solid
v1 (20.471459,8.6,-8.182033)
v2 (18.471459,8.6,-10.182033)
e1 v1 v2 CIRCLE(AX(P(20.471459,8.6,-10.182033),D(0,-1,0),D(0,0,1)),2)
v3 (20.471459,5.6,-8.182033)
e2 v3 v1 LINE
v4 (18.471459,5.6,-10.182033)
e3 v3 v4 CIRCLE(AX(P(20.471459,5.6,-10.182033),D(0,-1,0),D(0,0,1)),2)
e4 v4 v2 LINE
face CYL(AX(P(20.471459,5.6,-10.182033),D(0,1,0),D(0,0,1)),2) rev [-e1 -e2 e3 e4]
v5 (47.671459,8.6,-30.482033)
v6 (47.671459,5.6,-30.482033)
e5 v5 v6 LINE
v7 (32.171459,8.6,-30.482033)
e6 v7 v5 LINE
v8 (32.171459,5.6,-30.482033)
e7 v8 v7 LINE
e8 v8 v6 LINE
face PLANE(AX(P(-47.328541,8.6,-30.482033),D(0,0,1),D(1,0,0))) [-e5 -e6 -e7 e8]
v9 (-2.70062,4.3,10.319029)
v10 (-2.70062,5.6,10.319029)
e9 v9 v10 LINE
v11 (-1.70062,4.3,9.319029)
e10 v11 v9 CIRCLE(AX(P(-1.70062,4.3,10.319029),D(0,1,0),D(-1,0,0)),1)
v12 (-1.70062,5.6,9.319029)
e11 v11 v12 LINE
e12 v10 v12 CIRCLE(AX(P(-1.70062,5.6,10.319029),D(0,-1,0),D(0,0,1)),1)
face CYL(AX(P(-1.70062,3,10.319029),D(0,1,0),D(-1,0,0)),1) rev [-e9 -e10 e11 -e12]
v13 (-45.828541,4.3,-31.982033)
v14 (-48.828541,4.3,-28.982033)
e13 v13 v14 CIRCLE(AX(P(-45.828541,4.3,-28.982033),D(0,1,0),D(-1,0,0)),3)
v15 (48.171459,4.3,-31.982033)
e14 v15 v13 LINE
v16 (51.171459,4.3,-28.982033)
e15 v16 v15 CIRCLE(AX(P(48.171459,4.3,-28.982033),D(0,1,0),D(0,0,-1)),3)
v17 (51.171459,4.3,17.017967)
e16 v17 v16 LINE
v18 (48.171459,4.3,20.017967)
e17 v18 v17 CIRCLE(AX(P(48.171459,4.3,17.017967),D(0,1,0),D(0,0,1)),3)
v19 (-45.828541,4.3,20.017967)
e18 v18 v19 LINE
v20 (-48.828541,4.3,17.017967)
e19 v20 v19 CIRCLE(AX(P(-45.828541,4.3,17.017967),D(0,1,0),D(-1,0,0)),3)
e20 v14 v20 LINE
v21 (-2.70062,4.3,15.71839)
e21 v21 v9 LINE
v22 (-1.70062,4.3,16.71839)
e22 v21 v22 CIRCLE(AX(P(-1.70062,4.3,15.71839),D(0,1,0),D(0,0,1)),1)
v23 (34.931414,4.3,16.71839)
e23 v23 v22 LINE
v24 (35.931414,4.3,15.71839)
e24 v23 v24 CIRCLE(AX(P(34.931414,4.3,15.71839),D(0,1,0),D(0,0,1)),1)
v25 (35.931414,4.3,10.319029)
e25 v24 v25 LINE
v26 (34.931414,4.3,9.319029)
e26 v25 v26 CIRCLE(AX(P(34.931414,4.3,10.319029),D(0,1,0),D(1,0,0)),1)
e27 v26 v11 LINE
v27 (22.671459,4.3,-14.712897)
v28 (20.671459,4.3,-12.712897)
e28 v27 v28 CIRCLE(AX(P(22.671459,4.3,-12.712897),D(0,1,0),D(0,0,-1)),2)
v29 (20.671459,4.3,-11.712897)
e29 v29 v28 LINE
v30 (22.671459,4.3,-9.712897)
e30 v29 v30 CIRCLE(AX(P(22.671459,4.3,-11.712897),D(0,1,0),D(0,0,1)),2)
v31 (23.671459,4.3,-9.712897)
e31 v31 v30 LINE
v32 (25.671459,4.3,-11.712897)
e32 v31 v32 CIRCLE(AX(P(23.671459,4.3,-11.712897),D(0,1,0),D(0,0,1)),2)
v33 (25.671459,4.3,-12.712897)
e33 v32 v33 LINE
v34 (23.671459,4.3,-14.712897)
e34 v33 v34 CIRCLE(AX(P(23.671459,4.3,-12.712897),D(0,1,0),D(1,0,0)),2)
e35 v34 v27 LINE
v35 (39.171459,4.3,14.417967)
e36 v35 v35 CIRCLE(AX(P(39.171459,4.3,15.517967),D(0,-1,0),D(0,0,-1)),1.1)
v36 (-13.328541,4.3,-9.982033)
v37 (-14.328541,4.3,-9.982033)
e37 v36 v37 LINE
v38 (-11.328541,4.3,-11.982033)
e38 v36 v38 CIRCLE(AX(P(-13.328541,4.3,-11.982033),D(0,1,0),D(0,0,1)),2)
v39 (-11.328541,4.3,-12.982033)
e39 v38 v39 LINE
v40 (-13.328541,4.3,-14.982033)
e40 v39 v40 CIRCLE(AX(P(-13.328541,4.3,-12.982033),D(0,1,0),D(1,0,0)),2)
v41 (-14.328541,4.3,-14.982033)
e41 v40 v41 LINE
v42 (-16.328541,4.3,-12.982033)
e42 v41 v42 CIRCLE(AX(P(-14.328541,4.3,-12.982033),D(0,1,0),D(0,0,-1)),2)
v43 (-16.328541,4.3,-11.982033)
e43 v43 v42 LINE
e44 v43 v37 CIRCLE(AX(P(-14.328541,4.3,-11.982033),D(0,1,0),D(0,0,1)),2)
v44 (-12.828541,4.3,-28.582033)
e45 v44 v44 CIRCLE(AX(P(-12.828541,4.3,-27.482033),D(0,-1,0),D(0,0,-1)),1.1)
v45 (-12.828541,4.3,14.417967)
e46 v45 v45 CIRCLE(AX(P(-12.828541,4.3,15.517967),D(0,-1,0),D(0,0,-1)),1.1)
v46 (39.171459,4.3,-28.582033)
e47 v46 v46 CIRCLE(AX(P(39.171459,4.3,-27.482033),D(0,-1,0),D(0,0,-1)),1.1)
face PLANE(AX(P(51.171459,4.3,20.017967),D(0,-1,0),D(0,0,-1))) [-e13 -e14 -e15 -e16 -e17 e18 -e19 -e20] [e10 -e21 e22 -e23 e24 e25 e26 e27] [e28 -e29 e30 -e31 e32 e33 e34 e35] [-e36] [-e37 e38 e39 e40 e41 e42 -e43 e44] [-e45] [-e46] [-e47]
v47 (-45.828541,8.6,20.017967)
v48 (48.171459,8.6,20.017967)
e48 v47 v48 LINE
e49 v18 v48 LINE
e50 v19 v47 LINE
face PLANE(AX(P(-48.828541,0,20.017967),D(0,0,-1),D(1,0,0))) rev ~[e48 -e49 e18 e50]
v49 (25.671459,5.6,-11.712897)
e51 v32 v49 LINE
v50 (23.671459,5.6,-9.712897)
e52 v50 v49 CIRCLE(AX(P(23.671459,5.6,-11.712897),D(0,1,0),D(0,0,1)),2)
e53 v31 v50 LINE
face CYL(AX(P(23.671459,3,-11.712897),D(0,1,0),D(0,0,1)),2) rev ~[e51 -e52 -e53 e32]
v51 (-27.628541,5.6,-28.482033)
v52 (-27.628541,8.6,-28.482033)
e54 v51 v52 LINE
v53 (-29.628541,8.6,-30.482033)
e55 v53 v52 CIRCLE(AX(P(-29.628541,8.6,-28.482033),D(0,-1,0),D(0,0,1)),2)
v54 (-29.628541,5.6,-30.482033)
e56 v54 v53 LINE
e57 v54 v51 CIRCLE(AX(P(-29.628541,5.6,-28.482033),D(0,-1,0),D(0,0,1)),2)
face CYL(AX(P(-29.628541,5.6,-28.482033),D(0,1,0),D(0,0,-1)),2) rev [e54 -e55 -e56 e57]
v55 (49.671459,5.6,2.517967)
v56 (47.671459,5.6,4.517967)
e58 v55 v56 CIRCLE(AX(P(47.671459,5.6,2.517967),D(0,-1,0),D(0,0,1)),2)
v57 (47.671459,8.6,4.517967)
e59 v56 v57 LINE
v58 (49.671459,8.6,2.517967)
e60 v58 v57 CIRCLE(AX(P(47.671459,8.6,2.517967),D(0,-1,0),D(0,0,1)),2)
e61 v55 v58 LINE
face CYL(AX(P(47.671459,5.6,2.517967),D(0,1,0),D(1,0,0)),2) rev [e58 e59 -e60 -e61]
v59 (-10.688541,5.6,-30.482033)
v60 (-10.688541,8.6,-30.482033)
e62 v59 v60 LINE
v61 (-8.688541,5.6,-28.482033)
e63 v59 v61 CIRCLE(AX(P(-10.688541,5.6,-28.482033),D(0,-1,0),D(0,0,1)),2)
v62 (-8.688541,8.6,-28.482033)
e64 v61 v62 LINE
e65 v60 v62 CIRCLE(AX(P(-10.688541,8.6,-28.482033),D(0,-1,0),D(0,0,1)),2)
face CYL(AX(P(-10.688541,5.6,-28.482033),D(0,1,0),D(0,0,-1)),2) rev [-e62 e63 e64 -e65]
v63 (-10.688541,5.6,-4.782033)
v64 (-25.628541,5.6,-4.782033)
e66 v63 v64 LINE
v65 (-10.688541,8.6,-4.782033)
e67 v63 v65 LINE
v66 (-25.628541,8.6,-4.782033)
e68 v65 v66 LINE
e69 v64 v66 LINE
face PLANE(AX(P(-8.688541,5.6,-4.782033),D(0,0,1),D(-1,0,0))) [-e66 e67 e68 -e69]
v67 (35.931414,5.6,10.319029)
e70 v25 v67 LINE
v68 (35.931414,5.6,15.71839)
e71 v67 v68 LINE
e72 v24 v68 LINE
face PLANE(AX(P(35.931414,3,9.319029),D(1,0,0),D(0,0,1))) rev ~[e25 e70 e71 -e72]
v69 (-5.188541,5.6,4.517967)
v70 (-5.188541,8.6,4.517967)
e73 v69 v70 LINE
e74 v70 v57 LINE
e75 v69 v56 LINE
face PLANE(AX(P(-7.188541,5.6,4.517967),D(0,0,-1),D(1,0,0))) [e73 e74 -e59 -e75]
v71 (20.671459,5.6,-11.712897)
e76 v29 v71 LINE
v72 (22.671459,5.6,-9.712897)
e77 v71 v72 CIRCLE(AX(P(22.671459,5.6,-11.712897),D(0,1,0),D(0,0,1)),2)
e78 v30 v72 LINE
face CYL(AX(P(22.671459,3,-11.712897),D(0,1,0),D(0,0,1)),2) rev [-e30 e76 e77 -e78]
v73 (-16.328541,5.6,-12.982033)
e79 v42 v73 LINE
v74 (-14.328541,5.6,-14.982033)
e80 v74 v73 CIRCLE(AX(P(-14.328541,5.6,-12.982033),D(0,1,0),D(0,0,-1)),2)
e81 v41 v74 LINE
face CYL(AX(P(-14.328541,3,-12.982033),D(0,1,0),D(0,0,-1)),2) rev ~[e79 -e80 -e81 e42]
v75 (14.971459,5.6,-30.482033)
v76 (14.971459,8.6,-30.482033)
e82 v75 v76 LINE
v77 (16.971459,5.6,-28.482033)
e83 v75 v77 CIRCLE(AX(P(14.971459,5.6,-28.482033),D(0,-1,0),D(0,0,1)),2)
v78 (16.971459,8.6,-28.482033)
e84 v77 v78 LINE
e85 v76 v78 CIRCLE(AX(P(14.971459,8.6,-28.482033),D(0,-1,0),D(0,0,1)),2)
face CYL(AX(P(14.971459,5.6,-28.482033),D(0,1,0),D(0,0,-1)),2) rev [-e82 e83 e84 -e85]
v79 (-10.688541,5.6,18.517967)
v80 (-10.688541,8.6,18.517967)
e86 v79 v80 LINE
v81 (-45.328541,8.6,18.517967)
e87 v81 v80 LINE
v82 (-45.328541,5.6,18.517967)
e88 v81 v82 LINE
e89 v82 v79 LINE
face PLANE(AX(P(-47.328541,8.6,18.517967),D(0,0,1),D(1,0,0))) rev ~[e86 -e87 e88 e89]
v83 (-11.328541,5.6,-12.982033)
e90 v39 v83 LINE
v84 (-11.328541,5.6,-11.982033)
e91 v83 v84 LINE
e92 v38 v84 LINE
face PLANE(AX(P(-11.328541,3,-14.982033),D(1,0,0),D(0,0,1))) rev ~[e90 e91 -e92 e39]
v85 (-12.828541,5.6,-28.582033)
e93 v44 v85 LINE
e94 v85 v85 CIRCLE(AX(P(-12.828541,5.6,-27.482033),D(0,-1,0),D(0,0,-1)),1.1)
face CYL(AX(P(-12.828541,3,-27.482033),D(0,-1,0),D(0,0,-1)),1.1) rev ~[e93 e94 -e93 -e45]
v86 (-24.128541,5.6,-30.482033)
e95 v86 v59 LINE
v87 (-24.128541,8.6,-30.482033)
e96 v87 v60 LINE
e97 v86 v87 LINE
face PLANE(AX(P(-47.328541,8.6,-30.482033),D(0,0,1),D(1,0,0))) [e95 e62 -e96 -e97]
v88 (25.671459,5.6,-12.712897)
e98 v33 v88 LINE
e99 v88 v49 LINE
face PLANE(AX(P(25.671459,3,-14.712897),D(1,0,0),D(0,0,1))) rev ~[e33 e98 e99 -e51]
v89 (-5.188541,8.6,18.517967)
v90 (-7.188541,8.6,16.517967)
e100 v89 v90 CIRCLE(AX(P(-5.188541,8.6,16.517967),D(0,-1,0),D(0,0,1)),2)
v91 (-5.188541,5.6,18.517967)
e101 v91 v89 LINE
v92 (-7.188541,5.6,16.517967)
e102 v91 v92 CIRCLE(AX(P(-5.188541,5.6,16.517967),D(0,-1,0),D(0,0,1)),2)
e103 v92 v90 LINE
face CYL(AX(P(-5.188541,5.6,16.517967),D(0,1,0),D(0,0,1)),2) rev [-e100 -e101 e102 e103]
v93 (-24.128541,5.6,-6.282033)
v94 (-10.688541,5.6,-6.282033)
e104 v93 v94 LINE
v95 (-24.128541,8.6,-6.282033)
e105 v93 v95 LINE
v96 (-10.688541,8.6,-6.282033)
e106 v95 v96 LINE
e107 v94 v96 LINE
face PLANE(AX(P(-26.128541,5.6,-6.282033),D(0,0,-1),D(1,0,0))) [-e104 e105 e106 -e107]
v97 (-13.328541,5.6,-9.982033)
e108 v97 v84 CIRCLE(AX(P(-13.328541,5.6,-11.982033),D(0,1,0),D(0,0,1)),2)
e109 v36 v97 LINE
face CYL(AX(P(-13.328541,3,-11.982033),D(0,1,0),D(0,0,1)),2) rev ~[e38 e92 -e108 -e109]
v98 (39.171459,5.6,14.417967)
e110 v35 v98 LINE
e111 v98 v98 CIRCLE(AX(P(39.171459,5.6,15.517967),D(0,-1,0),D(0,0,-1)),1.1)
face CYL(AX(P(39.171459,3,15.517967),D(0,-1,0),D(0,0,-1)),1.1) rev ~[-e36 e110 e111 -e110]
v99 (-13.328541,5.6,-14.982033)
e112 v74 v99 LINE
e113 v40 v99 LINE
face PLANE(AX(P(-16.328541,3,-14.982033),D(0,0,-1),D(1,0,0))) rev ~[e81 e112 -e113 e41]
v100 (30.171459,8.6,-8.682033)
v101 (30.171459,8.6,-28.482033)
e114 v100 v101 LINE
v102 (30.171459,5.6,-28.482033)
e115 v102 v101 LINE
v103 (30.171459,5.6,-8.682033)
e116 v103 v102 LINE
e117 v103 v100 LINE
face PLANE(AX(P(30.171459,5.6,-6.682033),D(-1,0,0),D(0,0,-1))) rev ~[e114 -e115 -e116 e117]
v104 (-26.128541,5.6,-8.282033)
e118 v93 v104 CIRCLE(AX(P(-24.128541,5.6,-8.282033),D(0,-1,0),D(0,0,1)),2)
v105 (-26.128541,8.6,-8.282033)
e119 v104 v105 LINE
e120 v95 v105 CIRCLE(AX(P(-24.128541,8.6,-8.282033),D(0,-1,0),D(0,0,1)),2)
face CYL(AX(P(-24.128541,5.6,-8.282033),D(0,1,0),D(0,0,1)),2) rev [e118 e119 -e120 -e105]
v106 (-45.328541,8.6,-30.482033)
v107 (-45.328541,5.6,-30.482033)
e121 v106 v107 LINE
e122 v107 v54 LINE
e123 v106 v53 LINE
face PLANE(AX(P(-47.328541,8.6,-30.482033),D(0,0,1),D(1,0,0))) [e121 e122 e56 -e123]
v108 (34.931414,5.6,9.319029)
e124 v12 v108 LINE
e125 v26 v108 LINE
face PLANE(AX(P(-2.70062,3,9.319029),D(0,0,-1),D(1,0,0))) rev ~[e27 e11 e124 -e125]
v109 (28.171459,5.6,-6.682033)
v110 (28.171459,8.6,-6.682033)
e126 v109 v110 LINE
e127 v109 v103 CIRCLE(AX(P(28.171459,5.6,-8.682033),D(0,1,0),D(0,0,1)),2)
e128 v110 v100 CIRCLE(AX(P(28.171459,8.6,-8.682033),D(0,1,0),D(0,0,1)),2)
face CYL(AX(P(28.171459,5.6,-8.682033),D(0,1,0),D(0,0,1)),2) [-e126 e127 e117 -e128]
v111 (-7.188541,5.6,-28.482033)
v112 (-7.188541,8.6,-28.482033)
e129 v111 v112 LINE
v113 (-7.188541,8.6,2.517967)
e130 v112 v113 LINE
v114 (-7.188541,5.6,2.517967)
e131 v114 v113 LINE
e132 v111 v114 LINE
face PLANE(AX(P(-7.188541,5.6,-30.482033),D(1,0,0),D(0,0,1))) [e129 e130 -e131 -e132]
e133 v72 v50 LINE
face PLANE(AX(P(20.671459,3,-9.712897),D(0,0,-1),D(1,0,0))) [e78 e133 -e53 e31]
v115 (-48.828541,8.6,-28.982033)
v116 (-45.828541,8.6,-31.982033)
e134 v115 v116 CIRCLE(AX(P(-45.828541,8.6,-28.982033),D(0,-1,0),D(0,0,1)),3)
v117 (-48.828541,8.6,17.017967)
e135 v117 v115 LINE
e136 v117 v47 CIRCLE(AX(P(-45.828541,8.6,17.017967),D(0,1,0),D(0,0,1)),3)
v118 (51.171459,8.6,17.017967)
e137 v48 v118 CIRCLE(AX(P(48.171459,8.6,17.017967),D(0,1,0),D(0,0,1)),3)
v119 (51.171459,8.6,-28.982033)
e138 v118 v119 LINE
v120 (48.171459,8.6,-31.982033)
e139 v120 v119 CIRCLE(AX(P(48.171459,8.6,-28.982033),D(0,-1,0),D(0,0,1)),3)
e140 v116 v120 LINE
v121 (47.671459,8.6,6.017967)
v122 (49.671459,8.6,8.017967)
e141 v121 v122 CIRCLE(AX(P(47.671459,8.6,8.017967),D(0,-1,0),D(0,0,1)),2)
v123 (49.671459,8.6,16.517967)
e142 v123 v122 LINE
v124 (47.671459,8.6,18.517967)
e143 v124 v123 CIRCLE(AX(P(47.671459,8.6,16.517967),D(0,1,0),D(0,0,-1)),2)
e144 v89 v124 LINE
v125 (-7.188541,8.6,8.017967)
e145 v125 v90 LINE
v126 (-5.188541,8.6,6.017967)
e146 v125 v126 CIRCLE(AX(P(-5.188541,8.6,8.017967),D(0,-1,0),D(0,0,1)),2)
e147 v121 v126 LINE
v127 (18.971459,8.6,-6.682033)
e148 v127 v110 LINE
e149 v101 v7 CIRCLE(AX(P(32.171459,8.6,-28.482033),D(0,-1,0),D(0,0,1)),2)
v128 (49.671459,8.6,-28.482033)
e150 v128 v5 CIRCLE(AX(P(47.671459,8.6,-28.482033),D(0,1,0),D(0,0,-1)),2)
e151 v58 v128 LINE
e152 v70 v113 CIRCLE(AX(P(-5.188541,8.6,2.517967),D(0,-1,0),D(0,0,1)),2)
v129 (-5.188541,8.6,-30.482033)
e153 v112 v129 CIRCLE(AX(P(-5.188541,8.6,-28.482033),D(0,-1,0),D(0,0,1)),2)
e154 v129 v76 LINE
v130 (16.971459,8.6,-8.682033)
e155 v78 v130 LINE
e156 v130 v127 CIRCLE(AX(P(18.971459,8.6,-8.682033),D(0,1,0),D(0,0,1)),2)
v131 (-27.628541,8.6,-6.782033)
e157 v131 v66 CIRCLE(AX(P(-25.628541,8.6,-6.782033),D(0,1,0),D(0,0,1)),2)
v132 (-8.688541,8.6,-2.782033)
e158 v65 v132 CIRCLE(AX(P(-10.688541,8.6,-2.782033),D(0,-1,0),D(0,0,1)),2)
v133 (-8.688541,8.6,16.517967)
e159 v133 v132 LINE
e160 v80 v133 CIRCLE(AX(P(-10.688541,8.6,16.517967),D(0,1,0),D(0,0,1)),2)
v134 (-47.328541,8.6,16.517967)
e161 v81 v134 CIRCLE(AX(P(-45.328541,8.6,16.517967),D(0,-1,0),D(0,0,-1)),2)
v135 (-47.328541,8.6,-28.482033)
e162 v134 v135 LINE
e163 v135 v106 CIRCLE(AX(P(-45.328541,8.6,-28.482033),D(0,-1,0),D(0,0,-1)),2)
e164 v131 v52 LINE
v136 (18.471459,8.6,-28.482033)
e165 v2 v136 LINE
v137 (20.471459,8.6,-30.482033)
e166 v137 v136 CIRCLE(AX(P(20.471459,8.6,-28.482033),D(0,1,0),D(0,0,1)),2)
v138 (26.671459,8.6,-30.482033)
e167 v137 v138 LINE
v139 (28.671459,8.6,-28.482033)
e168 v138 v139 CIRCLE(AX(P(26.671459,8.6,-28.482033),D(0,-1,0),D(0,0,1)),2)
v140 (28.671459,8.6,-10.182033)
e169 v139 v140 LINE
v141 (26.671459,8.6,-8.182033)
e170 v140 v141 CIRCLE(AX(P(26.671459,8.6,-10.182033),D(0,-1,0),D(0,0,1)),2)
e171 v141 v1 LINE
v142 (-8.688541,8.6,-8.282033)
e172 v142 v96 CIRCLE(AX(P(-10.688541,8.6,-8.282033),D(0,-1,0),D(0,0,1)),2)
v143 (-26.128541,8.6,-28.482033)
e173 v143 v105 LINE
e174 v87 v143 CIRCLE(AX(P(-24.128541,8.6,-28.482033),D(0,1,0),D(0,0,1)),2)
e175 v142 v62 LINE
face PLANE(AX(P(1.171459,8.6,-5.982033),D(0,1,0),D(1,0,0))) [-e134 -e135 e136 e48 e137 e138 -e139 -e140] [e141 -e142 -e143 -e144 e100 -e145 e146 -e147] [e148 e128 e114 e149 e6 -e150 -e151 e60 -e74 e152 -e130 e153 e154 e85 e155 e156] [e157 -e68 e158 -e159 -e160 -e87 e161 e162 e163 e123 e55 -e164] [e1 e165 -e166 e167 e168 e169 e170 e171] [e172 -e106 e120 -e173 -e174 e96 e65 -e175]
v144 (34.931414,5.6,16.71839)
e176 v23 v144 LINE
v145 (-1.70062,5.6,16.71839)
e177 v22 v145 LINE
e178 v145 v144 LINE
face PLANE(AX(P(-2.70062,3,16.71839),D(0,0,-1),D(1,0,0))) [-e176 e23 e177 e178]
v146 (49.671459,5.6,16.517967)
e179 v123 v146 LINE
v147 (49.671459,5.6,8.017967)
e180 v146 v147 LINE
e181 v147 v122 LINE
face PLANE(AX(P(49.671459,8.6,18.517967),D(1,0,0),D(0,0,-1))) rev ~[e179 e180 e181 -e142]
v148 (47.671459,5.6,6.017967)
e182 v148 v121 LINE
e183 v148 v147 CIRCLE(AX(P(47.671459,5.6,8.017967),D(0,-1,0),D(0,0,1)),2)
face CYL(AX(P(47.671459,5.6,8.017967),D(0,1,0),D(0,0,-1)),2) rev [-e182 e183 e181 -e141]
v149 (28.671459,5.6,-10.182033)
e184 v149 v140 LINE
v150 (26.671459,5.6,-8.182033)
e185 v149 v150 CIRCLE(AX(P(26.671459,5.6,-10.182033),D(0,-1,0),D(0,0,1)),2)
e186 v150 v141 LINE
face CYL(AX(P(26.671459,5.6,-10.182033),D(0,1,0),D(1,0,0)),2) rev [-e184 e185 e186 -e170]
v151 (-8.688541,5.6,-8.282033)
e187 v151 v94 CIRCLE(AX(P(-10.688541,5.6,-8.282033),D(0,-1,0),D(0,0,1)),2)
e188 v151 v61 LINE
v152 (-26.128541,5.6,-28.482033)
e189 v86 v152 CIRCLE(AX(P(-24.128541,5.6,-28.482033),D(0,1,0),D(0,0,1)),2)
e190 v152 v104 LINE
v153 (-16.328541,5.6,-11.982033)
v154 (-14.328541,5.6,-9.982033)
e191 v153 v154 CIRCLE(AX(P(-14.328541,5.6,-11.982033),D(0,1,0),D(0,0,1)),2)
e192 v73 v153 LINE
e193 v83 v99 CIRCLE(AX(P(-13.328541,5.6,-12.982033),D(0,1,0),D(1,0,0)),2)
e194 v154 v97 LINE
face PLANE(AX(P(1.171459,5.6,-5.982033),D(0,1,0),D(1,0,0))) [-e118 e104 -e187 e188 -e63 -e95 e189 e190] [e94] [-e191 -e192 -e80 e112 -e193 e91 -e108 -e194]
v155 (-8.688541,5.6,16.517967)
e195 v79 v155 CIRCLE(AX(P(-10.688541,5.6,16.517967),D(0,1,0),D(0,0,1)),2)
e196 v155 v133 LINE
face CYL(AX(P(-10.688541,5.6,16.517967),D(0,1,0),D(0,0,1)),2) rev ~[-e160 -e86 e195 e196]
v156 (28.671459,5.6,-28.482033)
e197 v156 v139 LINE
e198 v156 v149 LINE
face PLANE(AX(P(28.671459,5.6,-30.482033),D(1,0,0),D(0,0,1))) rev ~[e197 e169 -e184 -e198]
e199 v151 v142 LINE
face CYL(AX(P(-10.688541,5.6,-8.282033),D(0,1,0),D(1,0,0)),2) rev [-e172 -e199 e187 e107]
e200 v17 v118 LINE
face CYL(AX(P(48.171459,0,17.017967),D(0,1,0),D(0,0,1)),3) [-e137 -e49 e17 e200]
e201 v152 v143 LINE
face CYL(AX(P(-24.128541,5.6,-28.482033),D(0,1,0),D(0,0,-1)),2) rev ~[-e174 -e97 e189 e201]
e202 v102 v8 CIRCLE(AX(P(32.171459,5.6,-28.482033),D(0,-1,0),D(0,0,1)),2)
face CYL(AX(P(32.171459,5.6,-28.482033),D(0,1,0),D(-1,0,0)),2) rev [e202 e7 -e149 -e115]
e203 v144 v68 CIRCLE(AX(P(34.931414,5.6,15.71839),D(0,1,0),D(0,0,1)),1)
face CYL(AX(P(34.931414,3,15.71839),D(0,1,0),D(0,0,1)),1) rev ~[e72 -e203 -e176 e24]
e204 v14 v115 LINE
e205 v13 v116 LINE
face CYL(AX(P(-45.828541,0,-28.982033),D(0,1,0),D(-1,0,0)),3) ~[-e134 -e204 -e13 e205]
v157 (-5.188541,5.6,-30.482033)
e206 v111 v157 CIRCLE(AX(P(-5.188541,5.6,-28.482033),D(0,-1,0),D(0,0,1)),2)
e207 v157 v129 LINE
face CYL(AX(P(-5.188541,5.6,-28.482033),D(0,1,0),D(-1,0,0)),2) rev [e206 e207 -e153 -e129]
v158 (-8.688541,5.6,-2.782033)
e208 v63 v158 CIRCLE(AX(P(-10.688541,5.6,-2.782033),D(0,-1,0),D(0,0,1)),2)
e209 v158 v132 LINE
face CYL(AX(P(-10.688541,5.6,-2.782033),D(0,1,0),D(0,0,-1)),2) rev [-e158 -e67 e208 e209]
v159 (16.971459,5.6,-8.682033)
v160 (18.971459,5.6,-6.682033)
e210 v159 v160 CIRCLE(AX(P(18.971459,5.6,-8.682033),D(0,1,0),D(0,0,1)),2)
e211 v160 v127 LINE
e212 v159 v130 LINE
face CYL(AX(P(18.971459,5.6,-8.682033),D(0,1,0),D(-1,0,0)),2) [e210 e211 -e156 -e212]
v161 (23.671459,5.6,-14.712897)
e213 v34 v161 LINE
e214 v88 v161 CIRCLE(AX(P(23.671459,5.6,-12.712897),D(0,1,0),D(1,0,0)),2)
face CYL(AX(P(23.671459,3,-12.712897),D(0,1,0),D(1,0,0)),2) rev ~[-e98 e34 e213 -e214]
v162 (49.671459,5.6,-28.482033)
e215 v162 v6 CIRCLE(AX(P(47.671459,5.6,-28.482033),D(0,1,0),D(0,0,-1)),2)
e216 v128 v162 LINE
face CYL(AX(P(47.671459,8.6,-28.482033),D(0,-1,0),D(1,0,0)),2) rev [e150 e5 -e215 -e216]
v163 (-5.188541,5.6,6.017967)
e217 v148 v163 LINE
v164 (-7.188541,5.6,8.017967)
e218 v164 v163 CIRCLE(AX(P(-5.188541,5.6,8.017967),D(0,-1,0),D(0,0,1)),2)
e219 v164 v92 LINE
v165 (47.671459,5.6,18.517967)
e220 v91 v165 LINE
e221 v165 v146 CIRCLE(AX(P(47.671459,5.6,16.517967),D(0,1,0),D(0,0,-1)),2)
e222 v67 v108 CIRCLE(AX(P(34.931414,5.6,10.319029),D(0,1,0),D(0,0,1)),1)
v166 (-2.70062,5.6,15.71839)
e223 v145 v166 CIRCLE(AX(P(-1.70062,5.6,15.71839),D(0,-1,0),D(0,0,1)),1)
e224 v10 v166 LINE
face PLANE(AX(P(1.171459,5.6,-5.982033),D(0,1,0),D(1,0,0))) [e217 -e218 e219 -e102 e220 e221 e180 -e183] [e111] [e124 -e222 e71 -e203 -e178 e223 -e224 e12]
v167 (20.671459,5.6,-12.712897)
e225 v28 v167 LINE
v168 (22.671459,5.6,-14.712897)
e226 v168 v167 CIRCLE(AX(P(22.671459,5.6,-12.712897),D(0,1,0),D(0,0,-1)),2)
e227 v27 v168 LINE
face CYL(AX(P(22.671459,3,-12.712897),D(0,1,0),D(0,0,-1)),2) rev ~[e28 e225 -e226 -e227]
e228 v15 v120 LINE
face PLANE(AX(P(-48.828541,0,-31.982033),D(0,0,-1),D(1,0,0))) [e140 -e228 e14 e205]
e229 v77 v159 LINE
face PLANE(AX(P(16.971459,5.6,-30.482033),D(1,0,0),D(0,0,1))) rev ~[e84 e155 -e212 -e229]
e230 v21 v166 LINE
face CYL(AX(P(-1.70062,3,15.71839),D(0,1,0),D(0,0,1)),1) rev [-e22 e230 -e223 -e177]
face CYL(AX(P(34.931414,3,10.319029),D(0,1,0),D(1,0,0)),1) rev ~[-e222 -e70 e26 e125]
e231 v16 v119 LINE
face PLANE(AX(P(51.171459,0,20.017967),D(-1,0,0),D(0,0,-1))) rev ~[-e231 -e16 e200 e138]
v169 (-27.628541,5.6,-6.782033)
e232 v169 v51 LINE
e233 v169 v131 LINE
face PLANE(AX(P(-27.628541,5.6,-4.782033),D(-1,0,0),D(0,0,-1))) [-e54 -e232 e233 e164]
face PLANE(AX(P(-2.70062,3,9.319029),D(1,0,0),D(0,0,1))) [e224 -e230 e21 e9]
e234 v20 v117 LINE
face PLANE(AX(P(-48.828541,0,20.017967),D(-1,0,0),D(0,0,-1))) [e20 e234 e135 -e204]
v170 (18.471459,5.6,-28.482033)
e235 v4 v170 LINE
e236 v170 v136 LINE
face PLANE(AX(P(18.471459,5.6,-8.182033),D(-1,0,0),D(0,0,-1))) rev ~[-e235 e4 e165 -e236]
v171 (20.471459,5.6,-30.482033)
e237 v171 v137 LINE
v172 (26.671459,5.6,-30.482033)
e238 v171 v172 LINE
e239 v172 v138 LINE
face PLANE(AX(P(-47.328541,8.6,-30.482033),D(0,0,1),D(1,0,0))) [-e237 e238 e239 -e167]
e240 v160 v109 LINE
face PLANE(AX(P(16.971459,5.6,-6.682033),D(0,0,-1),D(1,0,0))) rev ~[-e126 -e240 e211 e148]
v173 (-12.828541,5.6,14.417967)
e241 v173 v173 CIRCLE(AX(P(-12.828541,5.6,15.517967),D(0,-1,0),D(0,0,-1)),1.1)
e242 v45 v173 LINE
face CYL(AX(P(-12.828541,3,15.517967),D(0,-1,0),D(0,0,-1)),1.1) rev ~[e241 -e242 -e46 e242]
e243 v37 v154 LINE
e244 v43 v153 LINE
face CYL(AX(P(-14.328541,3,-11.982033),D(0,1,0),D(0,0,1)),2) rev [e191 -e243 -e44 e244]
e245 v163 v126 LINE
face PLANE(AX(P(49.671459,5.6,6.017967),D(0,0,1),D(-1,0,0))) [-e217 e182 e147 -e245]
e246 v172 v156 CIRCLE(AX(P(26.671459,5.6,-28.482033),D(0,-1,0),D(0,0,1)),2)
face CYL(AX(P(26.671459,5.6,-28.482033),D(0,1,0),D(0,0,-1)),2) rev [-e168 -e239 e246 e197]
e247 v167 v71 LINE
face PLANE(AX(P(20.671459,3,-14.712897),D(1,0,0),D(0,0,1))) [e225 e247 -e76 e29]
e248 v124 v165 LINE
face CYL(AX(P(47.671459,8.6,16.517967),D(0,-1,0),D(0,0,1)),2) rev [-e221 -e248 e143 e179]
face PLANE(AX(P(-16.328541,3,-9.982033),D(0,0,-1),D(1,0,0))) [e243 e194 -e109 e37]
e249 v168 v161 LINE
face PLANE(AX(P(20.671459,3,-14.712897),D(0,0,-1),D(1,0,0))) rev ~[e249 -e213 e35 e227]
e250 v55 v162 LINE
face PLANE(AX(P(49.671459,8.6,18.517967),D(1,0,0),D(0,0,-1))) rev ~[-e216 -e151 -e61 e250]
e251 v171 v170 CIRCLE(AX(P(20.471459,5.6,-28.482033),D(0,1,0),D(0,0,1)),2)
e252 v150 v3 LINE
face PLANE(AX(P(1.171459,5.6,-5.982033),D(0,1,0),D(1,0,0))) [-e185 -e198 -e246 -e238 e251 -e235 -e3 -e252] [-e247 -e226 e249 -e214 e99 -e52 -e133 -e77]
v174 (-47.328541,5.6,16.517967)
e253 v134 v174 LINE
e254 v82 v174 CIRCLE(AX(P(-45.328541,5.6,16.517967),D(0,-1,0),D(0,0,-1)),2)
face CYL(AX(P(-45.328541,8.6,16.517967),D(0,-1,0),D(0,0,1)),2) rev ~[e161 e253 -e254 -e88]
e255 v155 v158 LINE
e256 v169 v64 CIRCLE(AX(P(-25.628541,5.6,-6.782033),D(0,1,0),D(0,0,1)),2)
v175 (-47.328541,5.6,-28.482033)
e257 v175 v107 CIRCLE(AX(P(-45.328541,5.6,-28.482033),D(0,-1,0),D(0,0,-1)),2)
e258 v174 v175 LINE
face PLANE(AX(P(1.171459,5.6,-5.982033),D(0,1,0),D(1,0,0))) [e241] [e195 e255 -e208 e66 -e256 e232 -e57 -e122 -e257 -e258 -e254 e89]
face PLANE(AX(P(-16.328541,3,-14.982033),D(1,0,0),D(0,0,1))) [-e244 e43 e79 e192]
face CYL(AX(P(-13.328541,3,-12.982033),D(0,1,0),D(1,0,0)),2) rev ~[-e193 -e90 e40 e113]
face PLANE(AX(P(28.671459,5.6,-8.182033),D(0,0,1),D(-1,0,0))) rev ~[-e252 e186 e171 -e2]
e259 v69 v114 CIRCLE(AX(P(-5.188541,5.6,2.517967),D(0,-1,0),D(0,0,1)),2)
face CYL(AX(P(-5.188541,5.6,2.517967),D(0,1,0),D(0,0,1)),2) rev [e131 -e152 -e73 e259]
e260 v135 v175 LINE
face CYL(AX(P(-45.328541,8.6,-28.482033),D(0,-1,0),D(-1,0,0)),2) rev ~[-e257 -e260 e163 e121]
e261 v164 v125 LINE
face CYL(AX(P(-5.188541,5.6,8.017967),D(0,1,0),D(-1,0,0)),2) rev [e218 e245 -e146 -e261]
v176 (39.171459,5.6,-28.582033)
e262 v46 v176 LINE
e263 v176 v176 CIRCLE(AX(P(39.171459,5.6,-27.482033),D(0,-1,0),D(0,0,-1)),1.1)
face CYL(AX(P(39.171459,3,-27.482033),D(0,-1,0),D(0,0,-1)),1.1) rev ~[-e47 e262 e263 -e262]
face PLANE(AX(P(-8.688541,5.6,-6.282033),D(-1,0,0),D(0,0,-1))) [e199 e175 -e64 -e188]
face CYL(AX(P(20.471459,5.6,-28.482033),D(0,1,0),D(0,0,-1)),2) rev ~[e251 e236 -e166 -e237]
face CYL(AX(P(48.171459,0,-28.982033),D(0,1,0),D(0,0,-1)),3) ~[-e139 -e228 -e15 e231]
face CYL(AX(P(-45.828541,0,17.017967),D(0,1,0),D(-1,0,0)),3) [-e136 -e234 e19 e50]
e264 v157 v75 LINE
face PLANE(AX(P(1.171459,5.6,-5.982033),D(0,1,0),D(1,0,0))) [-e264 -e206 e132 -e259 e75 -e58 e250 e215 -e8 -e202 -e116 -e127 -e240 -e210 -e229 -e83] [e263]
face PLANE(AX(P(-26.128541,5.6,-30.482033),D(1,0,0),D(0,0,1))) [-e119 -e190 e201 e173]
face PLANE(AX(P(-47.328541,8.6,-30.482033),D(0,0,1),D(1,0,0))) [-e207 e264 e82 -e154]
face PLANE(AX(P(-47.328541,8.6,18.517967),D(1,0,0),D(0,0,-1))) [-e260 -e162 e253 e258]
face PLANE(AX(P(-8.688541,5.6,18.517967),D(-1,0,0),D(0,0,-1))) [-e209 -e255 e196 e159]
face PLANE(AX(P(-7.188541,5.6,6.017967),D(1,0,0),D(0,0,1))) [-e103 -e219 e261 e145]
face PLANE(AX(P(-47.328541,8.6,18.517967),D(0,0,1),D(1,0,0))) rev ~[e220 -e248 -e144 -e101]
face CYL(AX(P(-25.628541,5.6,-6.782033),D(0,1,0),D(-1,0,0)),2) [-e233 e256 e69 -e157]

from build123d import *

# Parameters (mm, degrees)
SKETCH_1_W          = 100
SKETCH_1_H          = 52
EXTRUDE_1_DEPTH     = 8.6
SKETCH_2_W          = 97
SKETCH_2_H          = 49
CUT_EXTRUDE_1_DEPTH = 3
SKETCH_3_R          = 1.1
SKETCH_3_W          = 38.632034186
SKETCH_3_H          = 7.399361665
SKETCH_3_W_2        = 5
SKETCH_3_H_2        = 5
CUT_EXTRUDE_2_DEPTH = 61.603041755
FILLET_1_R          = 2
SKETCH_4_W          = 1.5
SKETCH_4_H          = 6.8
CUT_EXTRUDE_3_DEPTH = 1
SKETCH_5_W          = 97
SKETCH_5_H          = 49
CUT_EXTRUDE_4_DEPTH = 3
EXTRUDE_2_DEPTH     = 3
FILLET_2_R          = 3
FILLET_3_R          = 2
FILLET_5_R          = 1
SKETCH_9_W          = 52
SKETCH_9_H          = 4.3
CUT_EXTRUDE_5_DEPTH = 106.341399486


with BuildPart() as part:
    # 草图1 → 凸台-拉伸1 (new body)
    with BuildSketch(Plane(origin=(0, 0, 0), x_dir=(1, 0, 0), z_dir=(0, 1, 0))):
        with Locations((1.17145908, 5.982033169)):
            Rectangle(SKETCH_1_W, SKETCH_1_H)
    extrude(amount=EXTRUDE_1_DEPTH)

    # 草图2 → 切除-拉伸1 (cut)
    with BuildSketch(Plane.XZ):
        with Locations((1.17145908, -5.982033169)):
            Rectangle(SKETCH_2_W, SKETCH_2_H)
    extrude(amount=-CUT_EXTRUDE_1_DEPTH, mode=Mode.SUBTRACT)

    # 草图3 → 切除-拉伸2 (cut, through all)
    with BuildSketch(Plane.XZ.offset(-3)):
        with Locations(Location((-12.82854092, 15.517966831, 0), (0, 0, 270))):
            Circle(SKETCH_3_R)
        with Locations(Location((39.17145908, 15.517966831, 0), (0, 0, 270))):
            Circle(SKETCH_3_R)
        with Locations(Location((39.17145908, -27.482033169, 0), (0, 0, 270))):
            Circle(SKETCH_3_R)
        with Locations(Location((-12.82854092, -27.482033169, 0), (0, 0, 270))):
            Circle(SKETCH_3_R)
        with Locations((16.615396969, 13.018709543)):
            Rectangle(SKETCH_3_W, SKETCH_3_H)
        with Locations((-13.82854092, -12.482033169)):
            Rectangle(SKETCH_3_W_2, SKETCH_3_H_2)
        with Locations((23.17145908, -12.21289677)):
            Rectangle(SKETCH_3_W_2, SKETCH_3_H_2)
    extrude(amount=-CUT_EXTRUDE_2_DEPTH, mode=Mode.SUBTRACT)

    # 圆角1
    fillet_1_edges = [part.edges().sort_by_distance(p)[0] for p in [
        (20.67145908, 5.8, -14.71289677),
        (20.67145908, 5.8, -9.71289677),
        (25.67145908, 5.8, -9.71289677),
        (25.67145908, 5.8, -14.71289677),
        (-16.32854092, 5.8, -14.982033169),
        (-16.32854092, 5.8, -9.982033169),
        (-11.32854092, 5.8, -9.982033169),
        (-11.32854092, 5.8, -14.982033169),
    ]]
    fillet(fillet_1_edges, radius=FILLET_1_R)

    # 草图4 → 切除-拉伸3 (cut)
    with BuildSketch(Plane.XZ):
        with Locations((50.42145908, 0.917966831)):
            Rectangle(SKETCH_4_W, SKETCH_4_H)
    extrude(amount=-CUT_EXTRUDE_3_DEPTH, mode=Mode.SUBTRACT)

    # 草图5 → 切除-拉伸4 (cut)
    with BuildSketch(Plane(origin=(0, 8.6, 0), x_dir=(1, 0, 0), z_dir=(0, 1, 0))):
        with Locations((1.17145908, 5.982033169)):
            Rectangle(SKETCH_5_W, SKETCH_5_H)
    extrude(amount=-CUT_EXTRUDE_4_DEPTH, mode=Mode.SUBTRACT)

    # 草图7 → 凸台-拉伸2 (add, through all)
    with BuildSketch(Plane(origin=(0, 5.6, 0), x_dir=(1, 0, 0), z_dir=(0, 1, 0))):
        Polygon((-8.68854092, -18.517966831), (-8.68854092, 4.782033169), (-27.62854092, 4.782033169), (-27.62854092, 30.482033169), (-26.12854092, 30.482033169), (-26.12854092, 6.282033169), (-8.68854092, 6.282033169), (-8.68854092, 30.482033169), (-7.18854092, 30.482033169), (-7.18854092, -4.517966831), (49.67145908, -4.517966831), (49.67145908, -6.017966831), (-7.18854092, -6.017966831), (-7.18854092, -18.517966831), align=None)
        Polygon((16.97145908, 30.482033169), (16.97145908, 6.682033169), (30.17145908, 6.682033169), (30.17145908, 30.482033169), (28.67145908, 30.482033169), (28.67145908, 8.182033169), (18.47145908, 8.182033169), (18.47145908, 30.482033169), align=None)
    extrude(amount=EXTRUDE_2_DEPTH)

    # 圆角2
    fillet_2_edges = [part.edges().sort_by_distance(p)[0] for p in [
        (-48.82854092, 4.3, -31.982033169),
        (51.17145908, 4.3, -31.982033169),
        (51.17145908, 4.3, 20.017966831),
        (-48.82854092, 4.3, 20.017966831),
    ]]
    fillet(fillet_2_edges, radius=FILLET_2_R)

    # 圆角3
    fillet_3_edges = [part.edges().sort_by_distance(p)[0] for p in [
        (49.67145908, 1.5, 18.517966831),
        (49.67145908, 1.5, -30.482033169),
        (-47.32854092, 1.5, -30.482033169),
        (-47.32854092, 1.5, 18.517966831),
        (-47.32854092, 7.1, 18.517966831),
        (-47.32854092, 7.1, -30.482033169),
        (49.67145908, 7.1, -30.482033169),
        (49.67145908, 7.1, 18.517966831),
        (-8.68854092, 7.1, 18.517966831),
        (-7.18854092, 7.1, 18.517966831),
        (-7.18854092, 7.1, 6.017966831),
        (49.67145908, 7.1, 6.017966831),
        (49.67145908, 7.1, 4.517966831),
        (-7.18854092, 7.1, 4.517966831),
        (-7.18854092, 7.1, -30.482033169),
        (-8.68854092, 7.1, -30.482033169),
        (-8.68854092, 7.1, -6.282033169),
        (-26.12854092, 7.1, -6.282033169),
        (-26.12854092, 7.1, -30.482033169),
        (-27.62854092, 7.1, -30.482033169),
        (-27.62854092, 7.1, -4.782033169),
        (-8.68854092, 7.1, -4.782033169),
        (18.47145908, 7.1, -30.482033169),
        (16.97145908, 7.1, -30.482033169),
        (16.97145908, 7.1, -6.682033169),
        (30.17145908, 7.1, -6.682033169),
        (30.17145908, 7.1, -30.482033169),
        (28.67145908, 7.1, -30.482033169),
        (28.67145908, 7.1, -8.182033169),
        (18.47145908, 7.1, -8.182033169),
    ]]
    fillet(fillet_3_edges, radius=FILLET_3_R)

    # 圆角5
    fillet_5_edges = [part.edges().sort_by_distance(p)[0] for p in [
        (-2.700620124, 4.3, 16.718390375),
        (35.931414062, 4.3, 16.718390375),
        (-2.700620124, 4.3, 9.31902871),
        (35.931414062, 4.3, 9.31902871),
    ]]
    fillet(fillet_5_edges, radius=FILLET_5_R)

    # 草图9 → 切除-拉伸5 (cut, through all)
    with BuildSketch(Plane(origin=(51.17145908, 0, 0), x_dir=(0, 0, -1), z_dir=(1, 0, 0))):
        with Locations((5.982033169, 2.15)):
            Rectangle(SKETCH_9_W, SKETCH_9_H)
    extrude(amount=-CUT_EXTRUDE_5_DEPTH, mode=Mode.SUBTRACT)


solid = part.part
